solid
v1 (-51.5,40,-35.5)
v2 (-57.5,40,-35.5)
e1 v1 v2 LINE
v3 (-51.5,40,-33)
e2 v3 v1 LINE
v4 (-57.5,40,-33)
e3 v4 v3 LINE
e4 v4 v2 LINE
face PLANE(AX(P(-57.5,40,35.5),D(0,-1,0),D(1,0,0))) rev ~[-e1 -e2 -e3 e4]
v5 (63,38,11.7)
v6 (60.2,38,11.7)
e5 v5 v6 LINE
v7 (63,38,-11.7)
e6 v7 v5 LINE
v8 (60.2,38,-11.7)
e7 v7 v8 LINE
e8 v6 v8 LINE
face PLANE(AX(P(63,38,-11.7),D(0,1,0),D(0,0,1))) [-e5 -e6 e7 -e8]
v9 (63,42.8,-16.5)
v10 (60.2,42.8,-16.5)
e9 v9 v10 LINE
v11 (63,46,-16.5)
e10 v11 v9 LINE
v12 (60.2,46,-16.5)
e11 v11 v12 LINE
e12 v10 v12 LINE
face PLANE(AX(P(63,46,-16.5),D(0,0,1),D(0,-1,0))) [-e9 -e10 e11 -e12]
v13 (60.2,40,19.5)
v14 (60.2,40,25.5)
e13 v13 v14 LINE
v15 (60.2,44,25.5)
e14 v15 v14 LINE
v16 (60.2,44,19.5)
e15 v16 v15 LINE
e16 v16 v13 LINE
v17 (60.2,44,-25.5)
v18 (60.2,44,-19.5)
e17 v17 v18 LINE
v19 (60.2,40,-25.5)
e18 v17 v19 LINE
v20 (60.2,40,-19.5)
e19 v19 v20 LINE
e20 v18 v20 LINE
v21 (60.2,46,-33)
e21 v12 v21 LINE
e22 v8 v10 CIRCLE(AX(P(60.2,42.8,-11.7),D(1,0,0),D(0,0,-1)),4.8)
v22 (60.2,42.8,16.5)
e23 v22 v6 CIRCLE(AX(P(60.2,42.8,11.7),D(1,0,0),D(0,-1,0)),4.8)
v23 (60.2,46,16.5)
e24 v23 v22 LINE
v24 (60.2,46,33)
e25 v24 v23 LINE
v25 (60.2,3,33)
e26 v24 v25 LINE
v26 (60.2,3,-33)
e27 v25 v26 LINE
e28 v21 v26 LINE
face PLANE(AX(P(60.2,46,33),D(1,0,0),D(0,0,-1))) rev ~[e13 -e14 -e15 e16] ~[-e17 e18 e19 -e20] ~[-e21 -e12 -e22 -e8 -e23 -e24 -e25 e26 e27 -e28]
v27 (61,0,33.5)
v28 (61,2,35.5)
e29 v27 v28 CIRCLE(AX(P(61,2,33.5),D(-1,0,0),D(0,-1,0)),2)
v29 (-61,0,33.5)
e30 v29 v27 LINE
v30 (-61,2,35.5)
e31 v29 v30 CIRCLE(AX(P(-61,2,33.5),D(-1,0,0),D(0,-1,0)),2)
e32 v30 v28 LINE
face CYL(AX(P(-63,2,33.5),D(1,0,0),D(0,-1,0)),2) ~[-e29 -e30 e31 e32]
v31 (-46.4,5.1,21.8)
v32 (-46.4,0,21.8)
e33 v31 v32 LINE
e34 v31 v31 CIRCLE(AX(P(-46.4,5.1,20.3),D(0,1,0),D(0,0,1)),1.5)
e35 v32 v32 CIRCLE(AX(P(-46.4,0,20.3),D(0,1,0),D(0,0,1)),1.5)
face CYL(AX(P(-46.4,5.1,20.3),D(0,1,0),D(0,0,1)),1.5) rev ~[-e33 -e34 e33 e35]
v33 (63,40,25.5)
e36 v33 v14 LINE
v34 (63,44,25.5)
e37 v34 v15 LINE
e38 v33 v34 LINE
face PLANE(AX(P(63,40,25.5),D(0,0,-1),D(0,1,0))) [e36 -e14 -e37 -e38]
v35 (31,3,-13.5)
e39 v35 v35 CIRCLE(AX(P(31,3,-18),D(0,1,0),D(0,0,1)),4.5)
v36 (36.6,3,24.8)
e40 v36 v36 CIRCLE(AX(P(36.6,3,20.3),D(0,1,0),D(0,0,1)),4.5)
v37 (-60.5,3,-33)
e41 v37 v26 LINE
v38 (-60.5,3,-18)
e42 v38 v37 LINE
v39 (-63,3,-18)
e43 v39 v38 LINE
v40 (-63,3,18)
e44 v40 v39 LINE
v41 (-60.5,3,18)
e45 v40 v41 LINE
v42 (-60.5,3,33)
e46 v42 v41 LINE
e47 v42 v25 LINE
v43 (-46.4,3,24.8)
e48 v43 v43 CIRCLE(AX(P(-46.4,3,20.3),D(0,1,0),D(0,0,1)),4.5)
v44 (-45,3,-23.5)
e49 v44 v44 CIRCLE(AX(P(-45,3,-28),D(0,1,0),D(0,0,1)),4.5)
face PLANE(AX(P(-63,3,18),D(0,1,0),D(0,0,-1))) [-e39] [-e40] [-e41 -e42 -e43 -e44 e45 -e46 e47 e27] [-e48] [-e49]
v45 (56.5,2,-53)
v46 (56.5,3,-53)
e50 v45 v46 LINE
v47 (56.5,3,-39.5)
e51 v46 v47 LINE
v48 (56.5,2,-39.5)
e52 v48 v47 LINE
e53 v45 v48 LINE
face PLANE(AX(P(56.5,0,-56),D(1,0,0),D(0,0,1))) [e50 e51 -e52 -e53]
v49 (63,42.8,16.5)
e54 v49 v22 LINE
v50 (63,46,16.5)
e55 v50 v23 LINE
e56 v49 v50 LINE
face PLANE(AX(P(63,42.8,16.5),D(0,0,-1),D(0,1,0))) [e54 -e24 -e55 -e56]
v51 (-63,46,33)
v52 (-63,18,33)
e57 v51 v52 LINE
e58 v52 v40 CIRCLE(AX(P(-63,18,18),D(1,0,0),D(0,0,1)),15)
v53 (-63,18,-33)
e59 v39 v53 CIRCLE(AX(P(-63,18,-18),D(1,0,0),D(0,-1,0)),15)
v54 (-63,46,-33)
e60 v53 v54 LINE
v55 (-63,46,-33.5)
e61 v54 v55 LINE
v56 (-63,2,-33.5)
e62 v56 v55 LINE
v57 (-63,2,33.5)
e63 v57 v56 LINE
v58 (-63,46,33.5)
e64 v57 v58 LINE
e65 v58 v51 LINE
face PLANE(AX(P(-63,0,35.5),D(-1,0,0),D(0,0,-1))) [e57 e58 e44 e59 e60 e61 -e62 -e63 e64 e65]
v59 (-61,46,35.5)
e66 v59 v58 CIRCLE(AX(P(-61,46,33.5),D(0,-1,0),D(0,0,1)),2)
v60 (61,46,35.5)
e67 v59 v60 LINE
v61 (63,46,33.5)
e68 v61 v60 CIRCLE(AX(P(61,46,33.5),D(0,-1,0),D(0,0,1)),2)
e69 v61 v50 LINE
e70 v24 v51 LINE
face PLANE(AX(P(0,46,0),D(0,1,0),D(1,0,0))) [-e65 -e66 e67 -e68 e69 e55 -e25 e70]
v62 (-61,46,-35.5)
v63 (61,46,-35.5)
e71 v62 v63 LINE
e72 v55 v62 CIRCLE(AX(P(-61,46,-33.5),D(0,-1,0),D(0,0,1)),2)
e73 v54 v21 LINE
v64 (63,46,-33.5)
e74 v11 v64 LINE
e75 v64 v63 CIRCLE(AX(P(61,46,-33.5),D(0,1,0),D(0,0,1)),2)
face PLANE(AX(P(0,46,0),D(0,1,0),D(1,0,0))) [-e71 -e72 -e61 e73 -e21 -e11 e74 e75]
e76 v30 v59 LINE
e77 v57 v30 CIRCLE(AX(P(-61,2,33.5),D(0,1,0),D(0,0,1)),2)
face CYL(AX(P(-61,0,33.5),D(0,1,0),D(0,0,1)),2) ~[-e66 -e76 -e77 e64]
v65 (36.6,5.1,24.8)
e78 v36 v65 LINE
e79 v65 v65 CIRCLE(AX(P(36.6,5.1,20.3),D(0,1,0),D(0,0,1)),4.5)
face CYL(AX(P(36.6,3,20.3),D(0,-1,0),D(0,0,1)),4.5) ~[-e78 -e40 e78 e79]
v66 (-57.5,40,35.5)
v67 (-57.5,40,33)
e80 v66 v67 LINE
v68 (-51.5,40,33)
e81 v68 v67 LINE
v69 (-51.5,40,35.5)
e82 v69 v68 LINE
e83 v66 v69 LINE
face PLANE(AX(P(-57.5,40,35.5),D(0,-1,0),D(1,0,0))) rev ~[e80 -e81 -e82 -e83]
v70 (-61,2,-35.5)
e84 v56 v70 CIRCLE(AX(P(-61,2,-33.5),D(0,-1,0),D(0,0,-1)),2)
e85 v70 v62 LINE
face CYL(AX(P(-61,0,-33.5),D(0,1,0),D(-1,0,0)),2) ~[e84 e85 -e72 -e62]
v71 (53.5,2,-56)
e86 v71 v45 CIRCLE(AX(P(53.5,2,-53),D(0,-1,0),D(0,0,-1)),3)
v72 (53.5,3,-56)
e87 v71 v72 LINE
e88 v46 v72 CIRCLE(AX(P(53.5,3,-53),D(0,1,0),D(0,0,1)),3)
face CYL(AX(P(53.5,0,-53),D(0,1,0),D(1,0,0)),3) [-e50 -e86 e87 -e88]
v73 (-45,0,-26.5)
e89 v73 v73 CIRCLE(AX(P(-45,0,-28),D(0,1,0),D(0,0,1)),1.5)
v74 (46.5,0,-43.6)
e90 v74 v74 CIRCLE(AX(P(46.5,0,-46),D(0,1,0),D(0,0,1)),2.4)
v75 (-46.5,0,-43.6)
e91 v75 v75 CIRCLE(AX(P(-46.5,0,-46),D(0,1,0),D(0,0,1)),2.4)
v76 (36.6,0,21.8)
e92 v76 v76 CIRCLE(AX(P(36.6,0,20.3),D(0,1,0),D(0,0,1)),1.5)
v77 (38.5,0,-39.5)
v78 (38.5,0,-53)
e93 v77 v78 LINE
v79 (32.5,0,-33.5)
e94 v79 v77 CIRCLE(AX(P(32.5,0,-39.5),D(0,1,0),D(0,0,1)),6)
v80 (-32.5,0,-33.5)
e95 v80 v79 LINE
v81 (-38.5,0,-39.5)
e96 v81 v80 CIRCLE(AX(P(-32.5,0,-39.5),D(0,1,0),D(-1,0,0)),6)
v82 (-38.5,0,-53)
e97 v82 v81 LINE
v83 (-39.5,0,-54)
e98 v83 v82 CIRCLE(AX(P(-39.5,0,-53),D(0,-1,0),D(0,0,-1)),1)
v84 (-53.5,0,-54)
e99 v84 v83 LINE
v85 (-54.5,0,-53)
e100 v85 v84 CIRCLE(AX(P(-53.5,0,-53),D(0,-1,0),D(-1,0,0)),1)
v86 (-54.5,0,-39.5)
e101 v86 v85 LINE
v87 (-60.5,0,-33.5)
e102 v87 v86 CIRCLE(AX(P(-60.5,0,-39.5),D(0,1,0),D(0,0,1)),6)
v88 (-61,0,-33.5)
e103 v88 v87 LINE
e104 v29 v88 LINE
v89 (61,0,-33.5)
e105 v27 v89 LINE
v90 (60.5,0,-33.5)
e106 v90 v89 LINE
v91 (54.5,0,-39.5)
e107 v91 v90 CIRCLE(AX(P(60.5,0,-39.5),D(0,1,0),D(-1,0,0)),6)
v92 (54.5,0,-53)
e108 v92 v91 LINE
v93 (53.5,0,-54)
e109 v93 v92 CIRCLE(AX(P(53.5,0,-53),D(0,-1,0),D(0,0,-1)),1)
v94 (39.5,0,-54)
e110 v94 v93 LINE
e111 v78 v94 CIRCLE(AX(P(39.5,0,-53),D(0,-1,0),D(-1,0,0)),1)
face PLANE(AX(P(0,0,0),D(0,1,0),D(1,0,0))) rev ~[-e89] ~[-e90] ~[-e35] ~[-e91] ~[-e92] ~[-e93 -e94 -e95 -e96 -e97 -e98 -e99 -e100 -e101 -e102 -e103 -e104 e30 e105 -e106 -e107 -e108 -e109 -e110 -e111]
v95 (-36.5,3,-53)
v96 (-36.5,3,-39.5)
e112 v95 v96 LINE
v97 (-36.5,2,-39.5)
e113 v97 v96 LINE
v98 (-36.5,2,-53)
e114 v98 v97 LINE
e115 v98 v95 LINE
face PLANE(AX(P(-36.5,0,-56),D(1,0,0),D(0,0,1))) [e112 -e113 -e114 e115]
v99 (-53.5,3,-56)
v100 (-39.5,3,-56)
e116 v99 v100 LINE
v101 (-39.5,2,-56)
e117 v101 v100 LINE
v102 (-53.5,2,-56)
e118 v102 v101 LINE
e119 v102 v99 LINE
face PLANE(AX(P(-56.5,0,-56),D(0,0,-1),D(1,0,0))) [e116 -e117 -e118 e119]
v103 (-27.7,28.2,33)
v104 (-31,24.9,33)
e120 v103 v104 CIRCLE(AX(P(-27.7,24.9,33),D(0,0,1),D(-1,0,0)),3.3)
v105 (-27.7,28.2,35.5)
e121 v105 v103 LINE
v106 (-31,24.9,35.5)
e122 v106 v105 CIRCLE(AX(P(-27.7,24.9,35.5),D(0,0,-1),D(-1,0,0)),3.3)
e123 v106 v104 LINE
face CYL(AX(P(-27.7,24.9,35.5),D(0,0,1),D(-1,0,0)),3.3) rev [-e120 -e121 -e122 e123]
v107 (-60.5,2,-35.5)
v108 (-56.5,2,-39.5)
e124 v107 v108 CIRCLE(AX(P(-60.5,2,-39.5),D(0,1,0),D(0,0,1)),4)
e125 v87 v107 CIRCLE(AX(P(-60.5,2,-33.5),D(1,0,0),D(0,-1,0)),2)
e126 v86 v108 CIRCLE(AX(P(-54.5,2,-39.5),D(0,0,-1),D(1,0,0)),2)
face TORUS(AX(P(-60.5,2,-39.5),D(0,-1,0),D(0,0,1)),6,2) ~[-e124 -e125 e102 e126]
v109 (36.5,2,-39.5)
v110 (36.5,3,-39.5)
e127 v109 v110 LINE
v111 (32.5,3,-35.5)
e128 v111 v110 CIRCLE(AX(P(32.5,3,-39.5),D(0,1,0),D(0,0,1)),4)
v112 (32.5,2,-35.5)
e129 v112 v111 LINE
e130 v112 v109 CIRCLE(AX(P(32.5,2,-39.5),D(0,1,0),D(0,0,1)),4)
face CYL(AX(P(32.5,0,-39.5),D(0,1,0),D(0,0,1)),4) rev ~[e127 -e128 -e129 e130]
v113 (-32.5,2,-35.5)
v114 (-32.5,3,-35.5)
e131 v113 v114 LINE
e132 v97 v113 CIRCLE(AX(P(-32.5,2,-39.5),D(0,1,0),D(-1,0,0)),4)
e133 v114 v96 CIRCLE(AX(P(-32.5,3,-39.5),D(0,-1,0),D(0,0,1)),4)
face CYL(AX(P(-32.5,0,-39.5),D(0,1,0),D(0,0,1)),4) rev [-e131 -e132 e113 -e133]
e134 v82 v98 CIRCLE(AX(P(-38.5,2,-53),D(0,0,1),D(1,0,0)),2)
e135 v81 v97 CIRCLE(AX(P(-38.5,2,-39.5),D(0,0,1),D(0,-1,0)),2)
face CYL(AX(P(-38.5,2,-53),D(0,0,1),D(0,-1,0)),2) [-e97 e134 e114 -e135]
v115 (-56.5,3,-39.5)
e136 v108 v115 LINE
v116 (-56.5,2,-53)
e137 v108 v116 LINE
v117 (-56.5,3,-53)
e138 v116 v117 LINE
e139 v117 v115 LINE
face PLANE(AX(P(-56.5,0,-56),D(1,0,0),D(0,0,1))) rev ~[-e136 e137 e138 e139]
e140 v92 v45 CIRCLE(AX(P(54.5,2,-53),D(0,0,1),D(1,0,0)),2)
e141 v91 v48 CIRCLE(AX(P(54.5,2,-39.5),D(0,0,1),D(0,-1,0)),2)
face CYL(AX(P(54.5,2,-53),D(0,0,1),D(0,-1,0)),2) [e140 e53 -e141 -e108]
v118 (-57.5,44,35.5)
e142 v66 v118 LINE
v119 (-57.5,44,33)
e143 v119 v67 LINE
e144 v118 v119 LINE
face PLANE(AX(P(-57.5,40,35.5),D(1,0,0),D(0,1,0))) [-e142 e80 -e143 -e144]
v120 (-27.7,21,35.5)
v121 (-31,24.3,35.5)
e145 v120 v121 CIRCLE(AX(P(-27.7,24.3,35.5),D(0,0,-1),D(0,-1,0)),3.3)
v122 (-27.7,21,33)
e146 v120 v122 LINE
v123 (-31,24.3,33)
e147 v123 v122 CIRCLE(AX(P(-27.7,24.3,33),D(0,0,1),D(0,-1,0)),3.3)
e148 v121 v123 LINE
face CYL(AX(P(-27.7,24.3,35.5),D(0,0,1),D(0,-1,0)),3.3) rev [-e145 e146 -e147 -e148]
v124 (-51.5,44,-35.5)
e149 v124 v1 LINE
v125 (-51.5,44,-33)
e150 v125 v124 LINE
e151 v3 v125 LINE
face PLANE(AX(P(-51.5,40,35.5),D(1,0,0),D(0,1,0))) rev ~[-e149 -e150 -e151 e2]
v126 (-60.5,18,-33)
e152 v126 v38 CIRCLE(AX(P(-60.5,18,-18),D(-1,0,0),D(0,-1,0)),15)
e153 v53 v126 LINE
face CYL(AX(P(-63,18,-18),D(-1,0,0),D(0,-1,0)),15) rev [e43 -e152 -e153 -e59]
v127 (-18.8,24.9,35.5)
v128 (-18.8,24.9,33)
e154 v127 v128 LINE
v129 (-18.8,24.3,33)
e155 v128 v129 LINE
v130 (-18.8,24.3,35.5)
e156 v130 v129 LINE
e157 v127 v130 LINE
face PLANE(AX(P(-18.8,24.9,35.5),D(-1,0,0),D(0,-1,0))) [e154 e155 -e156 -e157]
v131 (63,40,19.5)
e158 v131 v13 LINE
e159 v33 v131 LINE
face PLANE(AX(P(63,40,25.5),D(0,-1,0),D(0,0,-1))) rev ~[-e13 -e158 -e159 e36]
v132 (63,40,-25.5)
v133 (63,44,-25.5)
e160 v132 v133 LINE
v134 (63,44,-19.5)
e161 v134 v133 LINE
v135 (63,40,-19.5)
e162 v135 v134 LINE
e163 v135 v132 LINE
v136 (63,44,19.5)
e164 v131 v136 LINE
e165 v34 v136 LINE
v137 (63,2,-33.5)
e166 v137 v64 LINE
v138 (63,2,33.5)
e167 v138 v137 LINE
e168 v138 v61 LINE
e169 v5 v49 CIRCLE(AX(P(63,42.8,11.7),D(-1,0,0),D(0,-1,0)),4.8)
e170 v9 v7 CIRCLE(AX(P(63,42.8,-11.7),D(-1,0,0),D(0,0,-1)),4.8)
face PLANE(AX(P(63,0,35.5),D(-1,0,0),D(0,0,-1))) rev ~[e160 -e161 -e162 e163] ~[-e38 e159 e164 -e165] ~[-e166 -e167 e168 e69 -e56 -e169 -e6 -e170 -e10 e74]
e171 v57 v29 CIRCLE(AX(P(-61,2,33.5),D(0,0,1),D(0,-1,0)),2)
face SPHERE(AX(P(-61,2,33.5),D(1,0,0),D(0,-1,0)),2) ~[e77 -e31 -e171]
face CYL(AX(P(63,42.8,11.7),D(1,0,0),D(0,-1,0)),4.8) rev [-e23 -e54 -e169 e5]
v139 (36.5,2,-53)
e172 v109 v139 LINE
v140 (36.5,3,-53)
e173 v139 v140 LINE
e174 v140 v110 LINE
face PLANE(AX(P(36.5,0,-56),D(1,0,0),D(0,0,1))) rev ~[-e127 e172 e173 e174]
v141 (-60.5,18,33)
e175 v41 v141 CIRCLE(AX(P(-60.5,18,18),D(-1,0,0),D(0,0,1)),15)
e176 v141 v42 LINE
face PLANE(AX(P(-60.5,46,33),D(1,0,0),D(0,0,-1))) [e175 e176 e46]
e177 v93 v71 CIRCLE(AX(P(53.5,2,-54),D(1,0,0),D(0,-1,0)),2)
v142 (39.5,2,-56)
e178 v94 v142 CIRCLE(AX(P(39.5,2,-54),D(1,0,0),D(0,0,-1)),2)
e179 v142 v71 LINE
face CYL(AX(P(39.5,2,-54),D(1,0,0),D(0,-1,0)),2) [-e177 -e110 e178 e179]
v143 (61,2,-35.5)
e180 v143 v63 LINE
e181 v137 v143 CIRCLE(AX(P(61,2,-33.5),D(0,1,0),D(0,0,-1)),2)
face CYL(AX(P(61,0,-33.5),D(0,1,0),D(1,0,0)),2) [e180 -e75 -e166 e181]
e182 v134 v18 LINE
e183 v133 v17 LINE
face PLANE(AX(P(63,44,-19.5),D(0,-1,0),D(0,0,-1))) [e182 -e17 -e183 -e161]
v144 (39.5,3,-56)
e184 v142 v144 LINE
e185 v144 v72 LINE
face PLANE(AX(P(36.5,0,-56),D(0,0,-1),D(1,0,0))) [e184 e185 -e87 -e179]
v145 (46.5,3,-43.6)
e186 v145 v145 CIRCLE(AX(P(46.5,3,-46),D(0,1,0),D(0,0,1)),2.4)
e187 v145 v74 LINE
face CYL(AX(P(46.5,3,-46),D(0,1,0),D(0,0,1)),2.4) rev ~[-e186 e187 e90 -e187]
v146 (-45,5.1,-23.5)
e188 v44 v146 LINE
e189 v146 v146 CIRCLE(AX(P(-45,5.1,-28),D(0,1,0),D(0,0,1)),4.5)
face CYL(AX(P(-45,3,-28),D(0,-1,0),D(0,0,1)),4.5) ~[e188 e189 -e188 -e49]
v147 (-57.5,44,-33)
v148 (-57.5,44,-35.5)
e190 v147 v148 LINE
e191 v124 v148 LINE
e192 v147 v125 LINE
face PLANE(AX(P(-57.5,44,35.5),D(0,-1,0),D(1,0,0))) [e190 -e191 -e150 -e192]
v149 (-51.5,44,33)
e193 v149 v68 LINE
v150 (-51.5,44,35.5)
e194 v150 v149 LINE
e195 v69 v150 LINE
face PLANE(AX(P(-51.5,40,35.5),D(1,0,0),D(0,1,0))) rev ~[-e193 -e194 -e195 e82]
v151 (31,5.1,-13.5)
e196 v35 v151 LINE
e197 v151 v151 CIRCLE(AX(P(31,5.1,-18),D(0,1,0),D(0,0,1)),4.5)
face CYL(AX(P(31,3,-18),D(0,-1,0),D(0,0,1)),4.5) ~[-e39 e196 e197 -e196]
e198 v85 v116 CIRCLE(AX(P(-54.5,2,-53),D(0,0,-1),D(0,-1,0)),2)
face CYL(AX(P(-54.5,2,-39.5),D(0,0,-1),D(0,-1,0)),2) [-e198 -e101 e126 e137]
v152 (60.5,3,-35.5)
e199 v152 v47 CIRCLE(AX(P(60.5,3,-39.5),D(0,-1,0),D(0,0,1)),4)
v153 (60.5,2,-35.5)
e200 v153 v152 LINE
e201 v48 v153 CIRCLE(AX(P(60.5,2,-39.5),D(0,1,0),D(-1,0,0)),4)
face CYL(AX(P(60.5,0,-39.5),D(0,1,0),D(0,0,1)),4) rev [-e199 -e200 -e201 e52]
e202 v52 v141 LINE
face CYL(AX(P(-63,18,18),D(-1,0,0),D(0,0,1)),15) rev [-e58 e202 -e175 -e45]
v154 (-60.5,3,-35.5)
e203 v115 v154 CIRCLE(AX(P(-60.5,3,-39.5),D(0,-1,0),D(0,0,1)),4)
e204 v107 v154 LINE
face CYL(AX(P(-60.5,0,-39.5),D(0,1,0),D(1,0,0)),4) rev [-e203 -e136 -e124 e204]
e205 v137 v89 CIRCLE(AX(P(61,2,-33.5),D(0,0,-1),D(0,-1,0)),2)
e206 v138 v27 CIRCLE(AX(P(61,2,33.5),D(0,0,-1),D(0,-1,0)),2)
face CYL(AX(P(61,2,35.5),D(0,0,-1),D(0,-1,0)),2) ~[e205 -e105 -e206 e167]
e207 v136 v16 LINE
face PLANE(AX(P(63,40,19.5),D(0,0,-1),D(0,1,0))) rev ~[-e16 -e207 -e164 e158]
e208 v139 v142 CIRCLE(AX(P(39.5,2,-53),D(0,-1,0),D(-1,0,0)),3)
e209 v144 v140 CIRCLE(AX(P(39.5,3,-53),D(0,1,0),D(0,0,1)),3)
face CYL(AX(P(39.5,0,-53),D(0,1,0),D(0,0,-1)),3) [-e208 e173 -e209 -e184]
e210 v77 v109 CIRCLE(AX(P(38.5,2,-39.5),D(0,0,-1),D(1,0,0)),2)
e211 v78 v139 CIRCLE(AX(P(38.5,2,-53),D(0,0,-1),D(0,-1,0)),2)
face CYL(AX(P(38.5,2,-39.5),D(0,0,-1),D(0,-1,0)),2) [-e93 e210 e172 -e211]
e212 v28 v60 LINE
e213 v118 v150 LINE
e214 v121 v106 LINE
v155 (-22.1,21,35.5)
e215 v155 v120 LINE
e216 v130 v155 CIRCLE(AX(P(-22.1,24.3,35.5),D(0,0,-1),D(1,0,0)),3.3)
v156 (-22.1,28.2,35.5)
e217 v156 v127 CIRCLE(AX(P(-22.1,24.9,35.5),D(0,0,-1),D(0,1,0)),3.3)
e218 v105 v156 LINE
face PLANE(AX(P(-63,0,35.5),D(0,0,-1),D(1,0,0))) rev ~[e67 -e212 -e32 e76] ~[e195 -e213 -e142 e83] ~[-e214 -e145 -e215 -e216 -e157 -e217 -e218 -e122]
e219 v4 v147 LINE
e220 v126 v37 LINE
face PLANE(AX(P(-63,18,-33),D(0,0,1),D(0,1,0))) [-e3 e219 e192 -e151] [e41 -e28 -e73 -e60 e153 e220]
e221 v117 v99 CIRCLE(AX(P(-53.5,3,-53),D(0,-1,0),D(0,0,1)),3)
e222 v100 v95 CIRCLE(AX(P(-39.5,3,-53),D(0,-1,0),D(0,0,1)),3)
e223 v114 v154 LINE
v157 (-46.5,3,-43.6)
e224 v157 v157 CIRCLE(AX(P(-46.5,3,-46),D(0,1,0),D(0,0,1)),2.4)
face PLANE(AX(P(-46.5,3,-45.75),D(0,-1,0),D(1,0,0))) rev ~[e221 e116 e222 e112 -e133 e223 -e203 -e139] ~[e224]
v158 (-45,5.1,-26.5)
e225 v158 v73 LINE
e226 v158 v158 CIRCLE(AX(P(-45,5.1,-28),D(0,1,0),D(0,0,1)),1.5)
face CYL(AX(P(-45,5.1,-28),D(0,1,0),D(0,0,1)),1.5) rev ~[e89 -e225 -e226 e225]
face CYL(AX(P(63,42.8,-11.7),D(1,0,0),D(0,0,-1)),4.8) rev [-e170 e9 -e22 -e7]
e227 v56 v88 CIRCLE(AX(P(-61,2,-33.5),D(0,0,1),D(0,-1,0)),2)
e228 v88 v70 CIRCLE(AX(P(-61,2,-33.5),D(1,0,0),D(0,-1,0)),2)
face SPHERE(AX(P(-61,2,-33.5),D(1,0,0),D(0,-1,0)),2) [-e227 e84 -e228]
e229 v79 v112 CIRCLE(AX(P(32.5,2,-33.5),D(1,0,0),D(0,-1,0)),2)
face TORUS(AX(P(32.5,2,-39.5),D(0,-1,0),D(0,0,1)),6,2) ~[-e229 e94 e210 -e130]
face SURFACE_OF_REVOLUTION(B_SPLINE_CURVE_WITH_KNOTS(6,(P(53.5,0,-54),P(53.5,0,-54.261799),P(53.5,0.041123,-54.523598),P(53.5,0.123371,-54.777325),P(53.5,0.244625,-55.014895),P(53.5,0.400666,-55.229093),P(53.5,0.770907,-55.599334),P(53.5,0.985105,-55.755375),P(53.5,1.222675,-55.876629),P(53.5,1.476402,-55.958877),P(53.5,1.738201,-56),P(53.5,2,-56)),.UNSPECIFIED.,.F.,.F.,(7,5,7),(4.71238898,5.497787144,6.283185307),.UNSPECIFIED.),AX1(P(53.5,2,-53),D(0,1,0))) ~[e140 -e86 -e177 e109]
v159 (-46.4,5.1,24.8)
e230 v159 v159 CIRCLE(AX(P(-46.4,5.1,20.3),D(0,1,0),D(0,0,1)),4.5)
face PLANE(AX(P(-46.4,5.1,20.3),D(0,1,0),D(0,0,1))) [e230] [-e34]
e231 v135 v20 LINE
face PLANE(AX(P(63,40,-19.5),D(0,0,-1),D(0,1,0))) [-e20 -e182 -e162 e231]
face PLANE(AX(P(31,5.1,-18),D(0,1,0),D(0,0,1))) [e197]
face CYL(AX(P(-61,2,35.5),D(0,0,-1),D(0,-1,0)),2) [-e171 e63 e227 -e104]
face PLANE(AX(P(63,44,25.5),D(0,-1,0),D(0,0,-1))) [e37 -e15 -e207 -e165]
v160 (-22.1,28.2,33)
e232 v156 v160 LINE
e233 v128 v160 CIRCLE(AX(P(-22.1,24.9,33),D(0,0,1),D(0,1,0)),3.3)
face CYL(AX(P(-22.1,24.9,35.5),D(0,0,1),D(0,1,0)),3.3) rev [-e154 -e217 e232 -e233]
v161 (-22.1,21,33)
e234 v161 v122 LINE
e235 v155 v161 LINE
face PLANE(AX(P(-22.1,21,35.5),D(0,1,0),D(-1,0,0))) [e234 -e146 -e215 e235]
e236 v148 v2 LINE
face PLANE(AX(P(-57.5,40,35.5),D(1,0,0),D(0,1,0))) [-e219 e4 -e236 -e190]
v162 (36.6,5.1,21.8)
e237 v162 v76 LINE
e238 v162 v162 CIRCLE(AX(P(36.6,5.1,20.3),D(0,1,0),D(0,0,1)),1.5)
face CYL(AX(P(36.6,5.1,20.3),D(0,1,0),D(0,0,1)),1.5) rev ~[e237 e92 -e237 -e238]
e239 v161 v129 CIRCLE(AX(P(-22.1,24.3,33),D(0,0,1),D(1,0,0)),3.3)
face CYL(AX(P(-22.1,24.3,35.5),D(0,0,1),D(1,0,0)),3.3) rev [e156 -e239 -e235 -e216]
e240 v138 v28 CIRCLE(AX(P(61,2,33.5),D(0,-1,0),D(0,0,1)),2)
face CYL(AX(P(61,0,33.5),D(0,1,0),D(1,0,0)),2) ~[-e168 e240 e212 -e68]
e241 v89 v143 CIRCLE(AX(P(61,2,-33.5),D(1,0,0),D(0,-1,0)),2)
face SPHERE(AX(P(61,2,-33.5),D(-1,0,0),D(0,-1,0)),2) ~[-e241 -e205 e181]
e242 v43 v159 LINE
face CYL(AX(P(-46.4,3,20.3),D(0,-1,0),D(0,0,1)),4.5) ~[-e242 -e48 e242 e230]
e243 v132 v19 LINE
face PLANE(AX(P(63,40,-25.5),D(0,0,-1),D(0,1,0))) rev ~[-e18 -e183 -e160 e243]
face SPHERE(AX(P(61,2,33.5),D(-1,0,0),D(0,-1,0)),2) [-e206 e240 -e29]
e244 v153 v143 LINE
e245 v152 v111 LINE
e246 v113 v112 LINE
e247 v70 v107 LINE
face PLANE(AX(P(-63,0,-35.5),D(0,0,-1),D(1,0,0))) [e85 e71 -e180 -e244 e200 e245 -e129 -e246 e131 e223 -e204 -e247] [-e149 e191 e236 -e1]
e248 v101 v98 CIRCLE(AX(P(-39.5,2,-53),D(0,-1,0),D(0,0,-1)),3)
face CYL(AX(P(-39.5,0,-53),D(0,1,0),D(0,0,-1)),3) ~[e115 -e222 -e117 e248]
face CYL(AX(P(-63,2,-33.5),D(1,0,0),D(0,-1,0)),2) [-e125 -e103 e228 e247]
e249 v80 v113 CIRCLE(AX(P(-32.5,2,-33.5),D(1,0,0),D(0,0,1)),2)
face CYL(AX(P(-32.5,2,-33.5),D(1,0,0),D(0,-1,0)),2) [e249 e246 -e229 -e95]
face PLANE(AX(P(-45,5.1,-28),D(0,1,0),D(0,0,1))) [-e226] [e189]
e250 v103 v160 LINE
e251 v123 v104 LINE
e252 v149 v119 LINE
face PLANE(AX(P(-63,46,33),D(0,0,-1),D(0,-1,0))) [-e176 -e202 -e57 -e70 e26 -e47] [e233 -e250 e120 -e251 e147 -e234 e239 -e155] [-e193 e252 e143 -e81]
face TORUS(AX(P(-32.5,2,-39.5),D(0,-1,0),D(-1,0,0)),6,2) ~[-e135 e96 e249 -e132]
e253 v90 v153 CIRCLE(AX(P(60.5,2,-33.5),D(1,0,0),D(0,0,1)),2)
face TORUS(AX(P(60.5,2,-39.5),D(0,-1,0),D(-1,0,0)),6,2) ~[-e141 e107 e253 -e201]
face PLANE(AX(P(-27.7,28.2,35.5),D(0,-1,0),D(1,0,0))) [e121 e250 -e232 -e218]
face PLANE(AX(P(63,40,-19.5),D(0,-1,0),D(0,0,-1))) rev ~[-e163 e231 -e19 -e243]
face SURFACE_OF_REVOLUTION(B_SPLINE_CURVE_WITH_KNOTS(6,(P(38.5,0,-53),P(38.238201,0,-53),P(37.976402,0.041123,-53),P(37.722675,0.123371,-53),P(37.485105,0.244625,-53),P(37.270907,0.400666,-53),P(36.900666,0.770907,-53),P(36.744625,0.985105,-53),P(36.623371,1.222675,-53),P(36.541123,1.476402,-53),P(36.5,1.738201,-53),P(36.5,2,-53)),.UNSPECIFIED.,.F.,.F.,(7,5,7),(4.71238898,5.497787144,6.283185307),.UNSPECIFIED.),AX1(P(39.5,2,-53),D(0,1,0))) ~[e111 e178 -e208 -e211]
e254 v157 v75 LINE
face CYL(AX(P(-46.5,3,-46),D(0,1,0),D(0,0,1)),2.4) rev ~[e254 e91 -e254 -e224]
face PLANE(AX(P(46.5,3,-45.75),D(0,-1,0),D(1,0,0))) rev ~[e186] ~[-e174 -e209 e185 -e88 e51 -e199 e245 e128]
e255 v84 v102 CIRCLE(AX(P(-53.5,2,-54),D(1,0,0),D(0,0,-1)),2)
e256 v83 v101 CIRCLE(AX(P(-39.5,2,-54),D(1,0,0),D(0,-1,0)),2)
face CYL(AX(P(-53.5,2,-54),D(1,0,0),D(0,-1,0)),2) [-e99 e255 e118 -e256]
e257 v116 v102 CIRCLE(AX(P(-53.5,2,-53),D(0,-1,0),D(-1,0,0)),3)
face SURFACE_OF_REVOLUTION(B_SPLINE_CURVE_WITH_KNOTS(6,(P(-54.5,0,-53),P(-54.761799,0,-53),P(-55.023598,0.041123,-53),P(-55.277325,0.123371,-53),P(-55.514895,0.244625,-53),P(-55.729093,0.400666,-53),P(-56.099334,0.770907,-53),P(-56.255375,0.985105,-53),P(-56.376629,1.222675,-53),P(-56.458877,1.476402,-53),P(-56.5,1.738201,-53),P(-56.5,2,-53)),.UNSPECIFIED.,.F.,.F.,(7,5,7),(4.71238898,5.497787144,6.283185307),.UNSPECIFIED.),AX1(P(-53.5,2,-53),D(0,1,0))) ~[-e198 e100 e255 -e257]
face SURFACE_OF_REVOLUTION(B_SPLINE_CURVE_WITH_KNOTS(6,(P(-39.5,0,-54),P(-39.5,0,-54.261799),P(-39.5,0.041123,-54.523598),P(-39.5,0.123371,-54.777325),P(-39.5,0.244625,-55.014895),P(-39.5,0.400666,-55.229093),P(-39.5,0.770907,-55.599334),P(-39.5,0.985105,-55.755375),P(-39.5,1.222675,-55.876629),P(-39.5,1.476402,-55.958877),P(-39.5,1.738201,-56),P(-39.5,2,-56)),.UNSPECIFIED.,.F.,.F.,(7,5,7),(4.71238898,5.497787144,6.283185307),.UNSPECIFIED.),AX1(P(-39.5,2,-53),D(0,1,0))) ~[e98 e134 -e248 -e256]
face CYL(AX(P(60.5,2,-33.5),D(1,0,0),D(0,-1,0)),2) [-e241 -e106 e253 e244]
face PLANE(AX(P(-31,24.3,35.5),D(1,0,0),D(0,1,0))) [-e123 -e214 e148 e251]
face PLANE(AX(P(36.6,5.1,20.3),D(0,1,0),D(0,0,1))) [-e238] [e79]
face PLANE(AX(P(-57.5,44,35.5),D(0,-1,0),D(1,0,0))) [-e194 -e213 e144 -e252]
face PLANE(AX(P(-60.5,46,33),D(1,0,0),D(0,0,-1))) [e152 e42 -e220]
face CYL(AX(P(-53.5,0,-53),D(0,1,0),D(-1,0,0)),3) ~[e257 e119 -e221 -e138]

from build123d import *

# Parameters (mm, degrees)
SKETCH1_W           = 126
SKETCH1_H           = 71
BOSS_EXTRUDE1_DEPTH = 46
SKETCH2_W           = 20
SKETCH2_H           = 20.5
BOSS_EXTRUDE2_DEPTH = 3
SKETCH3_W           = 120.7
SKETCH3_H           = 66
CUT_EXTRUDE1_DEPTH  = 43
CUT_EXTRUDE2_REACH  = 147.355
CUT_EXTRUDE3_REACH  = 147.355
SKETCH5_W           = 6
SKETCH5_H           = 4
SKETCH6_W           = 6
SKETCH6_H           = 4
CUT_EXTRUDE4_DEPTH  = 121.238305045
CUT_EXTRUDE5_REACH  = 122.238
SKETCH8_R           = 2.4
CUT_EXTRUDE6_DEPTH  = 95.625577937
FILLET1_R           = 3
FILLET2_R           = 4
FILLET3_R           = 2
SKETCH9_R           = 4.5
BOSS_EXTRUDE3_DEPTH = 2.1
SKETCH10_R          = 1.5
CUT_EXTRUDE7_DEPTH  = 94.689967446


with BuildPart() as part:
    # Sketch1 → Boss-Extrude1 (new body)
    with BuildSketch(Plane(origin=(0, 0, 0), x_dir=(1, 0, 0), z_dir=(0, 1, 0))):
        Rectangle(SKETCH1_W, SKETCH1_H)
    extrude(amount=BOSS_EXTRUDE1_DEPTH)

    # Sketch2 → Boss-Extrude2 (add)
    with BuildSketch(Plane.XZ):
        with Locations((-46.5, -45.75)):
            Rectangle(SKETCH2_W, SKETCH2_H)
        with Locations((46.5, -45.75)):
            Rectangle(SKETCH2_W, SKETCH2_H)
    extrude(amount=-BOSS_EXTRUDE2_DEPTH)

    # Sketch3 → Cut-Extrude1 (cut)
    with BuildSketch(Plane(origin=(0, 46, 0), x_dir=(1, 0, 0), z_dir=(0, 1, 0))):
        with Locations((-0.15, 0)):
            Rectangle(SKETCH3_W, SKETCH3_H)
    extrude(amount=-CUT_EXTRUDE1_DEPTH, mode=Mode.SUBTRACT)

    # Sketch4 → Cut-Extrude2 (cut, up to next)
    with BuildSketch(Plane.ZY.offset(63), mode=Mode.PRIVATE) as cut_extrude2_sk1:
        with BuildLine():
            Line((-33, 46), (33, 46))
            Line((33, 46), (33, 18))
            ThreePointArc((33, 18), (28.606601718, 7.393398282), (18, 3))
            Line((18, 3), (-18, 3))
            ThreePointArc((-18, 3), (-28.606601718, 7.393398282), (-33, 18))
            Line((-33, 18), (-33, 46))
        make_face()
    cut_extrude2_tool1 = extrude(cut_extrude2_sk1.sketch, amount=-CUT_EXTRUDE2_REACH, mode=Mode.PRIVATE) & part.part
    add(cut_extrude2_tool1.solids().sort_by_distance((-63, 25.139342, 0))[0], mode=Mode.SUBTRACT)

    # Sketch5 → Cut-Extrude3 (cut, up to next)
    with BuildSketch(Plane(origin=(63, 0, 0), x_dir=(0, 0, -1), z_dir=(1, 0, 0)), mode=Mode.PRIVATE) as cut_extrude3_sk1:
        with BuildLine():
            Line((-16.5, 46), (16.5, 46))
            Line((16.5, 46), (16.5, 42.8))
            ThreePointArc((16.5, 42.8), (15.09411255, 39.40588745), (11.7, 38))
            Line((11.7, 38), (-11.7, 38))
            ThreePointArc((-11.7, 38), (-15.09411255, 39.40588745), (-16.5, 42.8))
            Line((-16.5, 42.8), (-16.5, 46))
        make_face()
    cut_extrude3_tool1 = extrude(cut_extrude3_sk1.sketch, amount=-CUT_EXTRUDE3_REACH, mode=Mode.PRIVATE) & part.part
    # Sketch5 → Cut-Extrude3 (cut, up to next)
    with BuildSketch(Plane(origin=(63, 0, 0), x_dir=(0, 0, -1), z_dir=(1, 0, 0)), mode=Mode.PRIVATE) as cut_extrude3_sk2:
        with Locations((22.5, 42)):
            Rectangle(SKETCH5_W, SKETCH5_H)
    cut_extrude3_tool2 = extrude(cut_extrude3_sk2.sketch, amount=-CUT_EXTRUDE3_REACH, mode=Mode.PRIVATE) & part.part
    # Sketch5 → Cut-Extrude3 (cut, up to next)
    with BuildSketch(Plane(origin=(63, 0, 0), x_dir=(0, 0, -1), z_dir=(1, 0, 0)), mode=Mode.PRIVATE) as cut_extrude3_sk3:
        with Locations((-22.5, 42)):
            Rectangle(SKETCH5_W, SKETCH5_H)
    cut_extrude3_tool3 = extrude(cut_extrude3_sk3.sketch, amount=-CUT_EXTRUDE3_REACH, mode=Mode.PRIVATE) & part.part
    add(cut_extrude3_tool1.solids().sort_by_distance((63, 42.113938, 0))[0], mode=Mode.SUBTRACT)
    add(cut_extrude3_tool2.solids().sort_by_distance((63, 42, -22.5))[0], mode=Mode.SUBTRACT)
    add(cut_extrude3_tool3.solids().sort_by_distance((63, 42, 22.5))[0], mode=Mode.SUBTRACT)

    # Sketch6 → Cut-Extrude4 (cut, through all)
    with BuildSketch(Plane.XY.offset(35.5)):
        with Locations((-54.5, 42)):
            Rectangle(SKETCH6_W, SKETCH6_H)
    extrude(amount=-CUT_EXTRUDE4_DEPTH, mode=Mode.SUBTRACT)

    # Sketch7 → Cut-Extrude5 (cut, up to next)
    with BuildSketch(Plane.XY.offset(35.5), mode=Mode.PRIVATE) as cut_extrude5_sk1:
        with BuildLine():
            Line((-27.7, 28.2), (-22.1, 28.2))
            ThreePointArc((-22.1, 28.2), (-19.766547622, 27.233452378), (-18.8, 24.9))
            Line((-18.8, 24.9), (-18.8, 24.3))
            ThreePointArc((-18.8, 24.3), (-19.766547622, 21.966547622), (-22.1, 21))
            Line((-22.1, 21), (-27.7, 21))
            ThreePointArc((-27.7, 21), (-30.033452378, 21.966547622), (-31, 24.3))
            Line((-31, 24.3), (-31, 24.9))
            ThreePointArc((-31, 24.9), (-30.033452378, 27.233452378), (-27.7, 28.2))
        make_face()
    cut_extrude5_tool1 = extrude(cut_extrude5_sk1.sketch, amount=-CUT_EXTRUDE5_REACH, mode=Mode.PRIVATE) & part.part
    add(cut_extrude5_tool1.solids().sort_by_distance((-24.9, 24.6, 35.5))[0], mode=Mode.SUBTRACT)

    # Sketch8 → Cut-Extrude6 (cut, through all)
    with BuildSketch(Plane(origin=(0, 3, 0), x_dir=(1, 0, 0), z_dir=(0, 1, 0))):
        with Locations(Location((-46.5, 46, 0), (0, 0, 270))):
            Circle(SKETCH8_R)
        with Locations(Location((46.5, 46, 0), (0, 0, 270))):
            Circle(SKETCH8_R)
    extrude(amount=-CUT_EXTRUDE6_DEPTH, mode=Mode.SUBTRACT)

    # Fillet1
    fillet1_edges = [part.edges().sort_by_distance(p)[0] for p in [
        (36.5, 1.5, -56),
        (56.5, 1.5, -56),
        (-36.5, 1.5, -56),
        (-56.5, 1.5, -56),
    ]]
    fillet(fillet1_edges, radius=FILLET1_R)

    # Fillet2
    fillet2_edges = [part.edges().sort_by_distance(p)[0] for p in [
        (-56.5, 1.5, -35.5),
        (-36.5, 1.5, -35.5),
        (56.5, 1.5, -35.5),
        (36.5, 1.5, -35.5),
    ]]
    fillet(fillet2_edges, radius=FILLET2_R)

    # Fillet3
    fillet3_edges = [part.edges().sort_by_distance(p)[0] for p in [
        (-46.5, 0, -56),
        (-36.5, 0, -46.25),
        (46.5, 0, -56),
        (56.5, 0, -46.25),
        (-55.621320344, 0, -55.121320344),
        (-37.378679656, 0, -55.121320344),
        (55.621320344, 0, -55.121320344),
        (37.378679656, 0, -55.121320344),
        (0, 0, -35.5),
        (-61.75, 0, -35.5),
        (-56.5, 0, -46.25),
        (36.5, 0, -46.25),
        (-57.671572875, 0, -36.671572875),
        (-35.328427125, 0, -36.671572875),
        (57.671572875, 0, -36.671572875),
        (35.328427125, 0, -36.671572875),
        (0, 0, 35.5),
        (-63, 0, 0),
        (61.75, 0, -35.5),
        (63, 0, 0),
        (63, 23, 35.5),
        (-63, 23, 35.5),
        (-63, 23, -35.5),
        (63, 23, -35.5),
    ]]
    fillet(fillet3_edges, radius=FILLET3_R)

    # Sketch9 → Boss-Extrude3 (add)
    with BuildSketch(Plane(origin=(0, 3, 0), x_dir=(1, 0, 0), z_dir=(0, 1, 0))):
        with Locations(Location((-45, 28, 0), (0, 0, 270))):
            Circle(SKETCH9_R)
        with Locations(Location((-46.4, -20.3, 0), (0, 0, 270))):
            Circle(SKETCH9_R)
        with Locations(Location((31, 18, 0), (0, 0, 270))):
            Circle(SKETCH9_R)
        with Locations(Location((36.6, -20.3, 0), (0, 0, 270))):
            Circle(SKETCH9_R)
    extrude(amount=BOSS_EXTRUDE3_DEPTH)

    # Sketch10 → Cut-Extrude7 (cut, through all)
    with BuildSketch(Plane(origin=(0, 5.1, 0), x_dir=(1, 0, 0), z_dir=(0, 1, 0))):
        with Locations(Location((-45, 28, 0), (0, 0, 270))):
            Circle(SKETCH10_R)
        with Locations(Location((-46.4, -20.3, 0), (0, 0, 270))):
            Circle(SKETCH10_R)
        with Locations(Location((36.6, -20.3, 0), (0, 0, 270))):
            Circle(SKETCH10_R)
    extrude(amount=-CUT_EXTRUDE7_DEPTH, mode=Mode.SUBTRACT)


solid = part.part
